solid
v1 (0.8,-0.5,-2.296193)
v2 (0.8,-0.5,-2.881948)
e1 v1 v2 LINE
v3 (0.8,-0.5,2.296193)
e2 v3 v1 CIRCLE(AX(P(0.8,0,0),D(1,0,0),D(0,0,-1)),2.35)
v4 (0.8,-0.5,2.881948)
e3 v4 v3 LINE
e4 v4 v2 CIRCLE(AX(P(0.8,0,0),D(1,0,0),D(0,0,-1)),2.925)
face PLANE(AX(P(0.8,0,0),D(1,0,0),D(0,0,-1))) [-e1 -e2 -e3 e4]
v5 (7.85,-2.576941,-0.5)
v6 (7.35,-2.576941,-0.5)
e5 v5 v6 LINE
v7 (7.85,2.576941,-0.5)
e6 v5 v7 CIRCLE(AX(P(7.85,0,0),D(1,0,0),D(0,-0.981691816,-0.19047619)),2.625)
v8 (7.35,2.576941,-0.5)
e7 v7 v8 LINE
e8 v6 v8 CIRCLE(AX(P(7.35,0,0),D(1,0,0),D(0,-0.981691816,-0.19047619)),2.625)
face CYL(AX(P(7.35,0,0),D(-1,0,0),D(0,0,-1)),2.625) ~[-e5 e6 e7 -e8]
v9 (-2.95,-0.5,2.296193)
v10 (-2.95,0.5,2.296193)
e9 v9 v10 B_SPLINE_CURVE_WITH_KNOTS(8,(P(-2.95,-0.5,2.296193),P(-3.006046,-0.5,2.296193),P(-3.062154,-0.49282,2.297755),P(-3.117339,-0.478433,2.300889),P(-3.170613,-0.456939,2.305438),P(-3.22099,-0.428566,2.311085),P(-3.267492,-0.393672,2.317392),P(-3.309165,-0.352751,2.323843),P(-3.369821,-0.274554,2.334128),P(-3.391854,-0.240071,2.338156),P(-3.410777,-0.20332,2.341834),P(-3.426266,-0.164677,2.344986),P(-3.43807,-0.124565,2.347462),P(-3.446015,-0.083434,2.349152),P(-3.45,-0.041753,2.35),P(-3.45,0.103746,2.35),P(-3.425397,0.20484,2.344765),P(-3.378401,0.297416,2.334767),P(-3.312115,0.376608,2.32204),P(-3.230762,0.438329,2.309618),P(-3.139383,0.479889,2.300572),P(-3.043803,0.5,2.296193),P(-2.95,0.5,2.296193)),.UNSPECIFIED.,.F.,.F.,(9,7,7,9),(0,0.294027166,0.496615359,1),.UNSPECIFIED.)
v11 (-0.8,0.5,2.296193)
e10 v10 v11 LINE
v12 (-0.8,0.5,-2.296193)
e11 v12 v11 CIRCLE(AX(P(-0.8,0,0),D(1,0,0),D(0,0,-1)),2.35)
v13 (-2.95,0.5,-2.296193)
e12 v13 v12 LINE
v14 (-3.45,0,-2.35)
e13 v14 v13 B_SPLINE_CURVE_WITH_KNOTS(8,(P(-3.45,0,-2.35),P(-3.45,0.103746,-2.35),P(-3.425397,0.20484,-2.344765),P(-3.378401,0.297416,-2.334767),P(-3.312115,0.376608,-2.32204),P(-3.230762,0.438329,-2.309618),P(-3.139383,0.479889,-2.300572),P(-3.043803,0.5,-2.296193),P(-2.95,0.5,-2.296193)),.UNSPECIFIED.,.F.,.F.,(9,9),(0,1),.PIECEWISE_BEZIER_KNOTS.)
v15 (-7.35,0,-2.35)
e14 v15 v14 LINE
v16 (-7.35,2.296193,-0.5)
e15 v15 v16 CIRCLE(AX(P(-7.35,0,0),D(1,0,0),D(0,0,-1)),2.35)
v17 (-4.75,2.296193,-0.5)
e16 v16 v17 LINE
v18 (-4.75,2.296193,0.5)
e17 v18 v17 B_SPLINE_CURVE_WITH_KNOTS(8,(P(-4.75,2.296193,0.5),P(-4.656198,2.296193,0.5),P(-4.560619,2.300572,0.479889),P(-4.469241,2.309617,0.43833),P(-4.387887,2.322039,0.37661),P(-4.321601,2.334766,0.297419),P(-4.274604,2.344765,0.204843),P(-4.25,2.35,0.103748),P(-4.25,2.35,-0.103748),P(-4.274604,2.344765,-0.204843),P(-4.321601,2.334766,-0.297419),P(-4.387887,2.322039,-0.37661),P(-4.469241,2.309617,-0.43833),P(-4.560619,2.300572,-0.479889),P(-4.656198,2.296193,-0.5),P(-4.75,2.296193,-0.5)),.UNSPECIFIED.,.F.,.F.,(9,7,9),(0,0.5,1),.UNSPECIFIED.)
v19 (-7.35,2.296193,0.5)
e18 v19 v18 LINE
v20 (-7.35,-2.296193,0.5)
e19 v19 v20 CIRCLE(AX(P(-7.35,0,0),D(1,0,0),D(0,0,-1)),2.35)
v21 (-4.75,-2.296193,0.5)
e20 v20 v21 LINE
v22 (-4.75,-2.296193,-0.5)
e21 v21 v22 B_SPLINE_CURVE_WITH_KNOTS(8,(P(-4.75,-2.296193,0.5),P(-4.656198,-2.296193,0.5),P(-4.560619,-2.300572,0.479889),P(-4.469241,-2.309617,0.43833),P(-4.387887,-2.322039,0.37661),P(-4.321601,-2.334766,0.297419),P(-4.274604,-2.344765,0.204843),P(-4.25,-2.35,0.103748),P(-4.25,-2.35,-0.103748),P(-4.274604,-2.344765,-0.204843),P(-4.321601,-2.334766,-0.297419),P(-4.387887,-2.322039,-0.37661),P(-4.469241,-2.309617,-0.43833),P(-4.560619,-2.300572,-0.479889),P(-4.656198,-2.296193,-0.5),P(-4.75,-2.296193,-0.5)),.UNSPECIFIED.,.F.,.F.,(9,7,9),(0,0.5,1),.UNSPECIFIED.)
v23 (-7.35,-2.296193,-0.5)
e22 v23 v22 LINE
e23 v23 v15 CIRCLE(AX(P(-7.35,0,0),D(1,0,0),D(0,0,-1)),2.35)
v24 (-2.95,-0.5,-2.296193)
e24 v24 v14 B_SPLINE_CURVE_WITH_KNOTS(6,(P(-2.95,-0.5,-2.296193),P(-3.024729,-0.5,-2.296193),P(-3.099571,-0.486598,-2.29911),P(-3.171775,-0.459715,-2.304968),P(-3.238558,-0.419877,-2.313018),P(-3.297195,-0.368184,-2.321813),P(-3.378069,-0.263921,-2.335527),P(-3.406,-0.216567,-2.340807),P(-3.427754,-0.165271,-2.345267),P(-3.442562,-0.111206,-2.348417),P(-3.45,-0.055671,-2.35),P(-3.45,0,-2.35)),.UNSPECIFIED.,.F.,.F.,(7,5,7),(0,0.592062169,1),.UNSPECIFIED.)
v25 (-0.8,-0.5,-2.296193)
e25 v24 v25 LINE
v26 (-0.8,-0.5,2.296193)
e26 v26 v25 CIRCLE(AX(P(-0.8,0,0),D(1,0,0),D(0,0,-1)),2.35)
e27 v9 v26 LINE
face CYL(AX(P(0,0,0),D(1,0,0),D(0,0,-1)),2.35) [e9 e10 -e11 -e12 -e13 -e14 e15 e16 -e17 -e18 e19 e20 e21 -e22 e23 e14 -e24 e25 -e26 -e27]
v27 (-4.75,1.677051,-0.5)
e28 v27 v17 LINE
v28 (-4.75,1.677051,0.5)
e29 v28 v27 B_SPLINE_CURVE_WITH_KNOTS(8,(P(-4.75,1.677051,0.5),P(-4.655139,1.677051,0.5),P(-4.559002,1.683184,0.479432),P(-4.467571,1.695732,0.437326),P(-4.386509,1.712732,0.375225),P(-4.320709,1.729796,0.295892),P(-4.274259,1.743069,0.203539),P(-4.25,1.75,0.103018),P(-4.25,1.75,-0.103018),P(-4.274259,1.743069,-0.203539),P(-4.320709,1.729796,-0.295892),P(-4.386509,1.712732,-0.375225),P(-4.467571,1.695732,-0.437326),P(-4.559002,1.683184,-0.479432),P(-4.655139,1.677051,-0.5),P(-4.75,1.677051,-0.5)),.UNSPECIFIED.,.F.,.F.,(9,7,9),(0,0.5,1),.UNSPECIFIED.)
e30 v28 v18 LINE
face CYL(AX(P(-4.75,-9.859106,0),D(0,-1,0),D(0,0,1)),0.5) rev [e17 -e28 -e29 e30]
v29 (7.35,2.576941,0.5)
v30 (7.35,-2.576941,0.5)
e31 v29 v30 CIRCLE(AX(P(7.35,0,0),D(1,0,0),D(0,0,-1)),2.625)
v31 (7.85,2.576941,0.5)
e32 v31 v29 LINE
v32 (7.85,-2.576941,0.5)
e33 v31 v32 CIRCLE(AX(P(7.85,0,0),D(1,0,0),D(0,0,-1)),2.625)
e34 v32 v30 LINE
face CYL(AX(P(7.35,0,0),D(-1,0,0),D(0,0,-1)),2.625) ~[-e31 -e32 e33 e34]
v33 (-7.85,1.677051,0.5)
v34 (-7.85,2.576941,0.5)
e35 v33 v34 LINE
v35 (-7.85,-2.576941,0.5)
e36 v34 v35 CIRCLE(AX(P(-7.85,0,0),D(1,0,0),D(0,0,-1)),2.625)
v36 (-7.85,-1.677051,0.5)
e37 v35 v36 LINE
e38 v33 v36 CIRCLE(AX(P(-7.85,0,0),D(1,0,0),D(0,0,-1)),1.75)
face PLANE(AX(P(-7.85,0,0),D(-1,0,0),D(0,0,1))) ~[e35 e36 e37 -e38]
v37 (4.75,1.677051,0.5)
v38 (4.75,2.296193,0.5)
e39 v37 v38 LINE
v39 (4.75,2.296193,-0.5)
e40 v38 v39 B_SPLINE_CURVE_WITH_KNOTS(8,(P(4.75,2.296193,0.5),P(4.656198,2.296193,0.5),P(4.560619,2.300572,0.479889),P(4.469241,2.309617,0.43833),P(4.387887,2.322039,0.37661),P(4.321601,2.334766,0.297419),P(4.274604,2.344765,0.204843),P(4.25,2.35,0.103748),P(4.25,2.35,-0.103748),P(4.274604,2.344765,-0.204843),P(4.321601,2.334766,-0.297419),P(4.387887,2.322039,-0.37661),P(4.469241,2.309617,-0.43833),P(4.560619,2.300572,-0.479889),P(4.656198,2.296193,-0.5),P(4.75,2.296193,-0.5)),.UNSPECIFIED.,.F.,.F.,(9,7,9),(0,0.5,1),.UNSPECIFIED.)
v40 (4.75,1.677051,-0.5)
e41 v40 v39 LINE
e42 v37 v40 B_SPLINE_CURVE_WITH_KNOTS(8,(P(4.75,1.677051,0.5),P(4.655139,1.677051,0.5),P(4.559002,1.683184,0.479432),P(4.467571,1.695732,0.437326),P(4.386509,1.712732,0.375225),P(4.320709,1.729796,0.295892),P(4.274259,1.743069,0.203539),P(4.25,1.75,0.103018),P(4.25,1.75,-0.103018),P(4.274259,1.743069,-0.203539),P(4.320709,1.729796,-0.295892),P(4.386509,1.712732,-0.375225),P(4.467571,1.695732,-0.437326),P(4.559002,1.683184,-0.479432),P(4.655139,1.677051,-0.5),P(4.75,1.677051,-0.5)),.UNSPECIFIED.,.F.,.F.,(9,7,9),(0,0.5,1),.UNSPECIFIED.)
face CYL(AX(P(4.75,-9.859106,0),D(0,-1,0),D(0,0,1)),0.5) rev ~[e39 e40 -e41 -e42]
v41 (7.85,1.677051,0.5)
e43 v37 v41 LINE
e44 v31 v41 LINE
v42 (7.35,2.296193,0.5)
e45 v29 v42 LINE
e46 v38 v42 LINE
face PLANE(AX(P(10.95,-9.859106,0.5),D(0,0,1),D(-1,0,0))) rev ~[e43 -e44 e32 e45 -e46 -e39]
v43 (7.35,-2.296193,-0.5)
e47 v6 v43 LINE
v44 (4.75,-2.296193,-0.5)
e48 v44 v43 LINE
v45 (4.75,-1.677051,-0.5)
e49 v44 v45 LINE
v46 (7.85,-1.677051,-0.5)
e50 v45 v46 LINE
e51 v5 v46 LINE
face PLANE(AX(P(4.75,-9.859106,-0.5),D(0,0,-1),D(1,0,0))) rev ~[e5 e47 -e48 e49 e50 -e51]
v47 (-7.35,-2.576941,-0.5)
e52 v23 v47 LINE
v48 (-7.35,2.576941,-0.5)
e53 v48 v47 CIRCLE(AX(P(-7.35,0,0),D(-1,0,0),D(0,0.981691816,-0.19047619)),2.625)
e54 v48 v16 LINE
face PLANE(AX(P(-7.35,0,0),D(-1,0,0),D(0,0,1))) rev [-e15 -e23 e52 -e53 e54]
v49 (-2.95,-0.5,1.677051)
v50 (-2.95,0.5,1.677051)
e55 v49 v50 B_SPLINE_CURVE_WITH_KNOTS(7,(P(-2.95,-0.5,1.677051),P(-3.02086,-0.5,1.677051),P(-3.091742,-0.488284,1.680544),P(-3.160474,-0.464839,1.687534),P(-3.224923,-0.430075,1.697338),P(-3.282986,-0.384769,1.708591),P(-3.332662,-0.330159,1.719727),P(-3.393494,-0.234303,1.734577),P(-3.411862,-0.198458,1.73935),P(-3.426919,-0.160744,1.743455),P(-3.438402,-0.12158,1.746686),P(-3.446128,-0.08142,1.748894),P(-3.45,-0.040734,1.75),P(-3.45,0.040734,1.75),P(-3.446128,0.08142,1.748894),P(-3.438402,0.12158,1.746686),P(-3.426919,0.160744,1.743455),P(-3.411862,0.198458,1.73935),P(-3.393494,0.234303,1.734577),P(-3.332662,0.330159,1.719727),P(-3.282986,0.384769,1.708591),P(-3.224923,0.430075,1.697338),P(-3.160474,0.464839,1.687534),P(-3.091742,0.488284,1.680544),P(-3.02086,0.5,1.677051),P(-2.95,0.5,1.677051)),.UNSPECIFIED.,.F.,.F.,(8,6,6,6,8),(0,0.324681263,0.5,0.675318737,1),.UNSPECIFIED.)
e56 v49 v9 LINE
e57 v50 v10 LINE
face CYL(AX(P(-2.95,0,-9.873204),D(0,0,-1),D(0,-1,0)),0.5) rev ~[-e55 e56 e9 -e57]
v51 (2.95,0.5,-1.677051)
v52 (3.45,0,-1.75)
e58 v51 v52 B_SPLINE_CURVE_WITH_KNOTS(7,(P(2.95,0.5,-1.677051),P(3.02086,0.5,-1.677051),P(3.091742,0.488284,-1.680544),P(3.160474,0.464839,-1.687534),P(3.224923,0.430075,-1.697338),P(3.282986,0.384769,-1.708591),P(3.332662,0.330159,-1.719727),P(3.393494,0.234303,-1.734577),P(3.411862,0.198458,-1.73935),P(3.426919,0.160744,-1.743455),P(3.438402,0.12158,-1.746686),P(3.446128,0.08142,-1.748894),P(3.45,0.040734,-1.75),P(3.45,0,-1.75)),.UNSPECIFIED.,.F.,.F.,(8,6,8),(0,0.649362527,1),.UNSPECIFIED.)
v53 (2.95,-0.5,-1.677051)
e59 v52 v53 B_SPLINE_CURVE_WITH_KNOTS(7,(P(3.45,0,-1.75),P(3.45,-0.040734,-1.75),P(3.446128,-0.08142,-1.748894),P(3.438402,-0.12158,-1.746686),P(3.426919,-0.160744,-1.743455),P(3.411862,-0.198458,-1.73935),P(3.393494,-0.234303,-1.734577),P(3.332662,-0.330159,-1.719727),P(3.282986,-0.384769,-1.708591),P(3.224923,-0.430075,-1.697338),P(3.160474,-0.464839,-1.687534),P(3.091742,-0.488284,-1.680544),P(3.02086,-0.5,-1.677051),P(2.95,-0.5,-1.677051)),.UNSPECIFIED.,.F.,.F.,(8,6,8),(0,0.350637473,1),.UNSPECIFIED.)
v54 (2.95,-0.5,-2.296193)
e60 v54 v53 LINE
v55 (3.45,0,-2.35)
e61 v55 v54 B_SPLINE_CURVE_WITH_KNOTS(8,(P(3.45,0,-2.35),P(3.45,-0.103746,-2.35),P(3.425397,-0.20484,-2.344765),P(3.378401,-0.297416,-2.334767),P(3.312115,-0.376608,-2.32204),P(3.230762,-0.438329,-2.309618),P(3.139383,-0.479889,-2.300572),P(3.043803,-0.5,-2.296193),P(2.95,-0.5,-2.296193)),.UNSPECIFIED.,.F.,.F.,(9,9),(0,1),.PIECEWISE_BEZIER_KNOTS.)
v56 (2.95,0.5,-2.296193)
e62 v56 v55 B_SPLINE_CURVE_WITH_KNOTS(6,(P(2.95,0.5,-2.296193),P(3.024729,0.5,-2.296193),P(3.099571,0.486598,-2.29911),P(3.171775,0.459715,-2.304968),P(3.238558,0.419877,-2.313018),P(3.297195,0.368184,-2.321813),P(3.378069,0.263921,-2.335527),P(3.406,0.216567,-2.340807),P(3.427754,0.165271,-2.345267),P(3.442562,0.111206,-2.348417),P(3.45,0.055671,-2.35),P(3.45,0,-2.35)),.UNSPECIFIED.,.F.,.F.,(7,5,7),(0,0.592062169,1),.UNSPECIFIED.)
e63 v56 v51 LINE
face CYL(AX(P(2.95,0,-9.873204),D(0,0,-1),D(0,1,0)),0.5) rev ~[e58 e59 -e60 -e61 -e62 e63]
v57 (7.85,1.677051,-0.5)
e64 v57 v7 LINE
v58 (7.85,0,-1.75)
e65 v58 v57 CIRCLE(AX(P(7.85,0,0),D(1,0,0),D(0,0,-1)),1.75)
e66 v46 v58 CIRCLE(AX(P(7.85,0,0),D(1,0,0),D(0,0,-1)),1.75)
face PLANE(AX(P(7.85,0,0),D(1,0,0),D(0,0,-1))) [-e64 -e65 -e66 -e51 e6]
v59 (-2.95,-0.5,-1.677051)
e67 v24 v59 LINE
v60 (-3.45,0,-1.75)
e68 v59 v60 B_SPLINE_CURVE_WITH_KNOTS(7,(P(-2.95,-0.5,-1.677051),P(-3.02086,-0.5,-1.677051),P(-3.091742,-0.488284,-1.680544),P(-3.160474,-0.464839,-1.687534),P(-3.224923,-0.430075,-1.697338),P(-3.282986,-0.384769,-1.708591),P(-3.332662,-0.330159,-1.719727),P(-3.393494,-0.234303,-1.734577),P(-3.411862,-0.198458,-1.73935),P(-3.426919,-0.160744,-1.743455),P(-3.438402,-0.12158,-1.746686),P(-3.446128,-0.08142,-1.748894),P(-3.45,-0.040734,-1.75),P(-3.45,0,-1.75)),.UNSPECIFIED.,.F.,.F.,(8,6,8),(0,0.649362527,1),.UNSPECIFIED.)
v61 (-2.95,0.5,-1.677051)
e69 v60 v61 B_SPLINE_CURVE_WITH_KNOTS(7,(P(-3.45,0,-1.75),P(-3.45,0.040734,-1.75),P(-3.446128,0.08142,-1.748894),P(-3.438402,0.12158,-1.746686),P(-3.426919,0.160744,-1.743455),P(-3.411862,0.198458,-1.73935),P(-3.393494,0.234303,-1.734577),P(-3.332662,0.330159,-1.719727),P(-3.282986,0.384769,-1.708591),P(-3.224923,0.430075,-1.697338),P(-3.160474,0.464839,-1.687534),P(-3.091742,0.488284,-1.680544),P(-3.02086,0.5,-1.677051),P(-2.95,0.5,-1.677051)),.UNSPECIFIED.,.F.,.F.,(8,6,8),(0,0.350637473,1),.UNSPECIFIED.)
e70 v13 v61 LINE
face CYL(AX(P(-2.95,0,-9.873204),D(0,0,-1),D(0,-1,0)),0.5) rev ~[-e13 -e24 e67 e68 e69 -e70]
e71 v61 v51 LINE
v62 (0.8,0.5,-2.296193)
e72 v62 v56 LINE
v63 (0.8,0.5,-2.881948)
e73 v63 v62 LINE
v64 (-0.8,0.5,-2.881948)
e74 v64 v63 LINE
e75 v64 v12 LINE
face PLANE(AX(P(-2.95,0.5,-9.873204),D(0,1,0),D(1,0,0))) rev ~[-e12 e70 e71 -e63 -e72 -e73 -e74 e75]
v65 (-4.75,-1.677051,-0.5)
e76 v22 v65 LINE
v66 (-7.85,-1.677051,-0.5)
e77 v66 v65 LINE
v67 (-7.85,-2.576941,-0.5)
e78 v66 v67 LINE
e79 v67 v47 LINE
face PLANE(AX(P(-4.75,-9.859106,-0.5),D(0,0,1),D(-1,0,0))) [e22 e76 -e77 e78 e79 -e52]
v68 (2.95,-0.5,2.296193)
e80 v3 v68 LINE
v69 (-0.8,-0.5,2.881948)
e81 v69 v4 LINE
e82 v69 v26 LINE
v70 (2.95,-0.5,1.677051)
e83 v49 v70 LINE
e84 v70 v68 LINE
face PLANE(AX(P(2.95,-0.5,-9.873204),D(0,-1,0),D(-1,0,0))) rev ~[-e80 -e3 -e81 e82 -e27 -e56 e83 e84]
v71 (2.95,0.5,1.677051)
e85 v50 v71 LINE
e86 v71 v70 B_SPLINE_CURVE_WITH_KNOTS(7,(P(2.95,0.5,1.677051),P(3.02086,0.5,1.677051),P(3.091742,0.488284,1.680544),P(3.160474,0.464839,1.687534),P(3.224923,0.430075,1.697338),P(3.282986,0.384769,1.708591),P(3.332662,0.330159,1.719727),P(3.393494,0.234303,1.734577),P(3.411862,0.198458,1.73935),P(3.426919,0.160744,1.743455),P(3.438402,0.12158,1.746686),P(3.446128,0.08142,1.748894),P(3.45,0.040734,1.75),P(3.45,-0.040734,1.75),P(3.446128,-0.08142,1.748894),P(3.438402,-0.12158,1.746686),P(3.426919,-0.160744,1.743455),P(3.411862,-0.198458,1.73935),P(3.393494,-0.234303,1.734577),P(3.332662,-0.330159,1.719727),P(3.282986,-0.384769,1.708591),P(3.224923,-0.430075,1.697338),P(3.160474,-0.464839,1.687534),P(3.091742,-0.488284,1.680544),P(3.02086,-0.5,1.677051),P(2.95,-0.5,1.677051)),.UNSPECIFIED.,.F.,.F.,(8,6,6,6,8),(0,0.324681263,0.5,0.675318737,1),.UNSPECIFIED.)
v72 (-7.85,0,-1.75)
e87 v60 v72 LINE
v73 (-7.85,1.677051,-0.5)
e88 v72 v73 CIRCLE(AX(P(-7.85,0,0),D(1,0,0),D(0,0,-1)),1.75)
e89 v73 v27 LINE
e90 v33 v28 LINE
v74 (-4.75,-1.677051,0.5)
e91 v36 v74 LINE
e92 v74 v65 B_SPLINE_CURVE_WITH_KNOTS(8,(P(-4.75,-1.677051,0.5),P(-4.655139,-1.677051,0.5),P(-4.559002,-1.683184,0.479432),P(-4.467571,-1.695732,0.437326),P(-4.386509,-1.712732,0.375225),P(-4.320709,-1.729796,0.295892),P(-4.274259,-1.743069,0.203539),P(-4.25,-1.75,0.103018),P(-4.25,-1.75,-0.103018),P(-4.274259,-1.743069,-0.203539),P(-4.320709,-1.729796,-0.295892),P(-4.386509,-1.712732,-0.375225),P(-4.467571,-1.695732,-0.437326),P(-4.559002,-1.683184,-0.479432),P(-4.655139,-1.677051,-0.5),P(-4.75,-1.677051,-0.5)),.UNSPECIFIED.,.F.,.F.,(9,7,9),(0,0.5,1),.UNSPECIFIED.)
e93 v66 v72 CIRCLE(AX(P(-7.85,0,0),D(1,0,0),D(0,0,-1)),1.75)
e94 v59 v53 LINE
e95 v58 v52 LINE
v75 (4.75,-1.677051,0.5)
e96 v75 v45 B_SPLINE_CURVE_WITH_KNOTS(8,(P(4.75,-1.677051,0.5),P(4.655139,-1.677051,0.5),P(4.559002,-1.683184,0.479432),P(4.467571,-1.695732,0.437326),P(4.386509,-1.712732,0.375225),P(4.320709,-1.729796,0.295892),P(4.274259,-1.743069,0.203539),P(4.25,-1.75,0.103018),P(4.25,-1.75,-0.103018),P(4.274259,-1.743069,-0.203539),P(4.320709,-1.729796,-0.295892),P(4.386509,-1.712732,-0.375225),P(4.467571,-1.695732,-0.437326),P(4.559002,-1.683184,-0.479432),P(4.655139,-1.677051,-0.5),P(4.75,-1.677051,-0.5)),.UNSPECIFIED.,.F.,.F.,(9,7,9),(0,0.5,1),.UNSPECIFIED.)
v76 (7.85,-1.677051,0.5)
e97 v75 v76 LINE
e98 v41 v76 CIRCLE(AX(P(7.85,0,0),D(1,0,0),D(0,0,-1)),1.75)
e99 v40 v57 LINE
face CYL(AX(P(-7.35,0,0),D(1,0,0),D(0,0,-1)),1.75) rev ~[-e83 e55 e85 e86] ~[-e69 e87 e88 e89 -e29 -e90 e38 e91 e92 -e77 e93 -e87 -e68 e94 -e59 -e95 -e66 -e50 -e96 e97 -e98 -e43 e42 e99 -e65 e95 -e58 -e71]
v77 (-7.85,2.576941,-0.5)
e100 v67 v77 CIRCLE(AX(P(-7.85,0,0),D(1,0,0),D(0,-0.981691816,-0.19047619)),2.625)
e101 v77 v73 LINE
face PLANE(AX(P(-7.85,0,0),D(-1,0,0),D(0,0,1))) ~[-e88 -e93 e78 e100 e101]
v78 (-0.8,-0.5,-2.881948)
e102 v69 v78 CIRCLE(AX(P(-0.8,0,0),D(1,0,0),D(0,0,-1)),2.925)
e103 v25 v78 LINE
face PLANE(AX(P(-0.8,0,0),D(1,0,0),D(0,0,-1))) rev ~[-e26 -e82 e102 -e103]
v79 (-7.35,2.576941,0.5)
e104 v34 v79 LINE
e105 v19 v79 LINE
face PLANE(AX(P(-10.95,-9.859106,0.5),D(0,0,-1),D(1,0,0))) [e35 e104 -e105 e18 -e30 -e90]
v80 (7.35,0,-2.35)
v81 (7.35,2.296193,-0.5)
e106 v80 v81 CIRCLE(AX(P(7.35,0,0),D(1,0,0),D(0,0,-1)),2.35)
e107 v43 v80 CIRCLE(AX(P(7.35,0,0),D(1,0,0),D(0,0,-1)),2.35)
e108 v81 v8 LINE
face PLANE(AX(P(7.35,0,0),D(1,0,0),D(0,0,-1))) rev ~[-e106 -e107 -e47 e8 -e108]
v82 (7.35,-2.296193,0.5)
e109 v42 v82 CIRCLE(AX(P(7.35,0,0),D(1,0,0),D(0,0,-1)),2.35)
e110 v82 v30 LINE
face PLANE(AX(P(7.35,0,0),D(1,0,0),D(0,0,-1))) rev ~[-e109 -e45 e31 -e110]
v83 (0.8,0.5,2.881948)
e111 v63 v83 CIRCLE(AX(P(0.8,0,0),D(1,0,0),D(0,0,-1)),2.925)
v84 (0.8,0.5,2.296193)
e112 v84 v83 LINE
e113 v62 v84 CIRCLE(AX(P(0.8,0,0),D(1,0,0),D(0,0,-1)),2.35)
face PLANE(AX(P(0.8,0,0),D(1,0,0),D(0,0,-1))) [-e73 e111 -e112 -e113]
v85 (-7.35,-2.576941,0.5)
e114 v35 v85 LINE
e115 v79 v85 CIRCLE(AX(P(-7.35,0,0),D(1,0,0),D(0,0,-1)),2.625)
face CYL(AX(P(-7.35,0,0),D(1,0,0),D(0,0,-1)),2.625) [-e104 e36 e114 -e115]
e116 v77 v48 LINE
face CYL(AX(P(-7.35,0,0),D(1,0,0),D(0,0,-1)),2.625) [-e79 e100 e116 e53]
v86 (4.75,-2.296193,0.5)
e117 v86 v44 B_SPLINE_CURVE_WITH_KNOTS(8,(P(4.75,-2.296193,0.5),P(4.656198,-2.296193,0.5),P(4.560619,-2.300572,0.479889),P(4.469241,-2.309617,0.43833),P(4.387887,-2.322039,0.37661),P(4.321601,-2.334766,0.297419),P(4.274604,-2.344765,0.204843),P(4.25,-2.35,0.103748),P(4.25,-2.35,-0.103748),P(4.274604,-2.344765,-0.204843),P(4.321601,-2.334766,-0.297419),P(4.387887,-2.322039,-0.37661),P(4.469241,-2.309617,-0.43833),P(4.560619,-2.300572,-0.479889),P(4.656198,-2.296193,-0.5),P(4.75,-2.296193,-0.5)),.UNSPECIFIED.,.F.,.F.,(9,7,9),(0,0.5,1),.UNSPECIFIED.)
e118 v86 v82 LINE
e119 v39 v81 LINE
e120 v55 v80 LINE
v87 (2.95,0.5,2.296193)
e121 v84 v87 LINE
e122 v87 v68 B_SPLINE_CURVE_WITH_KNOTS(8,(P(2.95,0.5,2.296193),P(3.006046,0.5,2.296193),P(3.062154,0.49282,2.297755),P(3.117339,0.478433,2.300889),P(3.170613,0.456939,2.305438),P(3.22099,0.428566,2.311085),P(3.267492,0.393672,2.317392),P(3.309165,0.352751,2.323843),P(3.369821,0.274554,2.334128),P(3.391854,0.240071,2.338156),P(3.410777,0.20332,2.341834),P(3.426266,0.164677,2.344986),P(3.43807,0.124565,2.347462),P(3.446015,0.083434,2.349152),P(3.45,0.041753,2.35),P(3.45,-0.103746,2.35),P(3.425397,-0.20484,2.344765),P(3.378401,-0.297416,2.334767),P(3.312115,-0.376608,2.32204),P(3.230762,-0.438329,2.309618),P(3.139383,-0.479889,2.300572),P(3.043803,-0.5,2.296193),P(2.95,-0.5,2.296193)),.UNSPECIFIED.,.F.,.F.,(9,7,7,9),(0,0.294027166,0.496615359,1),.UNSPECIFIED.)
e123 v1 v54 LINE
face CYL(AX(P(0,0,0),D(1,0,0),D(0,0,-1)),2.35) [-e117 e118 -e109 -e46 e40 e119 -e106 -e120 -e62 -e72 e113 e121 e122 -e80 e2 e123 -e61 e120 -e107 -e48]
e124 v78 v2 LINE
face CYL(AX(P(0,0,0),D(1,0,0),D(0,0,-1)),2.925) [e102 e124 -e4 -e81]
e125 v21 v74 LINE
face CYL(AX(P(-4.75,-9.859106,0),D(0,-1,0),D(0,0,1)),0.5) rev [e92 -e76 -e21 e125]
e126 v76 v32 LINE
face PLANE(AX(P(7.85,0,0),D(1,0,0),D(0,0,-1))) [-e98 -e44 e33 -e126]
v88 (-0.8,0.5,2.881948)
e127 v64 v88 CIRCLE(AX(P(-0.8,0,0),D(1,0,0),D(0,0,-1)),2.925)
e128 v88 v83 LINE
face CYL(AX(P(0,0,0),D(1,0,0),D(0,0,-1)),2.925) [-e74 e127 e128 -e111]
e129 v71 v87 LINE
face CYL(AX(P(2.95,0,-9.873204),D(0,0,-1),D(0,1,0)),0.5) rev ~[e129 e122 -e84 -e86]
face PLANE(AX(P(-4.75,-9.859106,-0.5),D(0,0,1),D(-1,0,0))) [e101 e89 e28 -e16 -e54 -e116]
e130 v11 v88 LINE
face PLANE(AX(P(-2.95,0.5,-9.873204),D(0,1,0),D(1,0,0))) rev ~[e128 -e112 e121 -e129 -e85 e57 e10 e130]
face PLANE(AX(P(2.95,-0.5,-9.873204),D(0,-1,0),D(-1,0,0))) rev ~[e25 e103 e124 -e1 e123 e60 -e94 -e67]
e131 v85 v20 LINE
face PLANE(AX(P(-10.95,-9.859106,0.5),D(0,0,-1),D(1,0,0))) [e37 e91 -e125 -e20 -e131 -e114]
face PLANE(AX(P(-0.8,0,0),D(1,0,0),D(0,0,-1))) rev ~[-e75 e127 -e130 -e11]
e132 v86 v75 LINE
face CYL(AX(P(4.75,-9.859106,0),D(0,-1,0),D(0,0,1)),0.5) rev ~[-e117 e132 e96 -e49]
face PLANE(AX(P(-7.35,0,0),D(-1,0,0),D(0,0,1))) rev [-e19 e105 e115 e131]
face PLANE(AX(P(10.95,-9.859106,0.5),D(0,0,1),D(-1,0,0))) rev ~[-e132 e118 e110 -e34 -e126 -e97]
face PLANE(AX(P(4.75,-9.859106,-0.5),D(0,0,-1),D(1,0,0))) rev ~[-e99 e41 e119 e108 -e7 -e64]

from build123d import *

# Parameters (mm, degrees)
SKETCH1_R              = 2.925
SKETCH1_R_2            = 1.75
MIDDLE_RING_DEPTH      = 0.8
SKETCH2_R              = 2.35
SKETCH2_R_2            = 1.75
OUTER_BODY_DEPTH       = 7.35
SKETCH3_R              = 2.625
SKETCH3_R_2            = 1.75
OUTER_RIM_DEPTH        = 0.5
MIDDLE_SLOT_DEPTH      = 9.873204044
MIDDLE_SLOT_DEPTH_BACK = 9.873204044
SIDE_SLOTS_DEPTH       = 9.859105574
SIDE_SLOTS_DEPTH_BACK  = 9.859105574


with BuildPart() as part:
    # Sketch1 → Middle Ring (new, symmetric)
    with BuildSketch(Plane(origin=(0, 0, 0), x_dir=(0, 0, -1), z_dir=(1, 0, 0))):
        Circle(SKETCH1_R)
        Circle(SKETCH1_R_2, mode=Mode.SUBTRACT)
    extrude(amount=MIDDLE_RING_DEPTH, both=True)

    # Sketch2 → Outer Body (add, symmetric)
    with BuildSketch(Plane(origin=(0, 0, 0), x_dir=(0, 0, -1), z_dir=(1, 0, 0))):
        Circle(SKETCH2_R)
        Circle(SKETCH2_R_2, mode=Mode.SUBTRACT)
    extrude(amount=OUTER_BODY_DEPTH, both=True)

    # Sketch3 → Outer Rim (add)
    with BuildSketch(Plane(origin=(7.35, 0, 0), x_dir=(0, 0, -1), z_dir=(1, 0, 0))):
        Circle(SKETCH3_R)
        Circle(SKETCH3_R_2, mode=Mode.SUBTRACT)
    outer_rim = extrude(amount=OUTER_RIM_DEPTH)

    # Mirror1: Outer Rim across plane
    add(outer_rim.mirror(Plane(origin=(0, 0, 0), x_dir=(0, 0, 1), z_dir=(1, 0, 0))))

    # Sketch4 → Middle Slot (cut, two sides: drawn at the far end of the back side and taken through both)
    with BuildSketch(Plane.XY.offset(-MIDDLE_SLOT_DEPTH_BACK)):
        with BuildLine():
            Line((2.95, -0.5), (-2.95, -0.5))
            ThreePointArc((-2.95, -0.5), (-3.45, 0), (-2.95, 0.5))
            Line((-2.95, 0.5), (2.95, 0.5))
            ThreePointArc((2.95, 0.5), (3.45, 0), (2.95, -0.5))
        make_face()
    extrude(amount=MIDDLE_SLOT_DEPTH + MIDDLE_SLOT_DEPTH_BACK, mode=Mode.SUBTRACT)

    # Sketch5 → Side Slots (cut, two sides: drawn at the far end of the back side and taken through both)
    with BuildSketch(Plane(origin=(0, 0, 0), x_dir=(1, 0, 0), z_dir=(0, 1, 0)).offset(-SIDE_SLOTS_DEPTH_BACK)):
        with BuildLine():
            Line((10.95, -0.5), (4.75, -0.5))
            ThreePointArc((4.75, -0.5), (4.25, 0), (4.75, 0.5))
            Line((4.75, 0.5), (10.95, 0.5))
            ThreePointArc((10.95, 0.5), (11.45, 0), (10.95, -0.5))
        make_face()
        with BuildLine():
            Line((-10.95, -0.5), (-4.75, -0.5))
            ThreePointArc((-4.75, -0.5), (-4.25, 0), (-4.75, 0.5))
            Line((-4.75, 0.5), (-10.95, 0.5))
            ThreePointArc((-10.95, 0.5), (-11.45, 0), (-10.95, -0.5))
        make_face()
    extrude(amount=SIDE_SLOTS_DEPTH + SIDE_SLOTS_DEPTH_BACK, mode=Mode.SUBTRACT)


solid = part.part
